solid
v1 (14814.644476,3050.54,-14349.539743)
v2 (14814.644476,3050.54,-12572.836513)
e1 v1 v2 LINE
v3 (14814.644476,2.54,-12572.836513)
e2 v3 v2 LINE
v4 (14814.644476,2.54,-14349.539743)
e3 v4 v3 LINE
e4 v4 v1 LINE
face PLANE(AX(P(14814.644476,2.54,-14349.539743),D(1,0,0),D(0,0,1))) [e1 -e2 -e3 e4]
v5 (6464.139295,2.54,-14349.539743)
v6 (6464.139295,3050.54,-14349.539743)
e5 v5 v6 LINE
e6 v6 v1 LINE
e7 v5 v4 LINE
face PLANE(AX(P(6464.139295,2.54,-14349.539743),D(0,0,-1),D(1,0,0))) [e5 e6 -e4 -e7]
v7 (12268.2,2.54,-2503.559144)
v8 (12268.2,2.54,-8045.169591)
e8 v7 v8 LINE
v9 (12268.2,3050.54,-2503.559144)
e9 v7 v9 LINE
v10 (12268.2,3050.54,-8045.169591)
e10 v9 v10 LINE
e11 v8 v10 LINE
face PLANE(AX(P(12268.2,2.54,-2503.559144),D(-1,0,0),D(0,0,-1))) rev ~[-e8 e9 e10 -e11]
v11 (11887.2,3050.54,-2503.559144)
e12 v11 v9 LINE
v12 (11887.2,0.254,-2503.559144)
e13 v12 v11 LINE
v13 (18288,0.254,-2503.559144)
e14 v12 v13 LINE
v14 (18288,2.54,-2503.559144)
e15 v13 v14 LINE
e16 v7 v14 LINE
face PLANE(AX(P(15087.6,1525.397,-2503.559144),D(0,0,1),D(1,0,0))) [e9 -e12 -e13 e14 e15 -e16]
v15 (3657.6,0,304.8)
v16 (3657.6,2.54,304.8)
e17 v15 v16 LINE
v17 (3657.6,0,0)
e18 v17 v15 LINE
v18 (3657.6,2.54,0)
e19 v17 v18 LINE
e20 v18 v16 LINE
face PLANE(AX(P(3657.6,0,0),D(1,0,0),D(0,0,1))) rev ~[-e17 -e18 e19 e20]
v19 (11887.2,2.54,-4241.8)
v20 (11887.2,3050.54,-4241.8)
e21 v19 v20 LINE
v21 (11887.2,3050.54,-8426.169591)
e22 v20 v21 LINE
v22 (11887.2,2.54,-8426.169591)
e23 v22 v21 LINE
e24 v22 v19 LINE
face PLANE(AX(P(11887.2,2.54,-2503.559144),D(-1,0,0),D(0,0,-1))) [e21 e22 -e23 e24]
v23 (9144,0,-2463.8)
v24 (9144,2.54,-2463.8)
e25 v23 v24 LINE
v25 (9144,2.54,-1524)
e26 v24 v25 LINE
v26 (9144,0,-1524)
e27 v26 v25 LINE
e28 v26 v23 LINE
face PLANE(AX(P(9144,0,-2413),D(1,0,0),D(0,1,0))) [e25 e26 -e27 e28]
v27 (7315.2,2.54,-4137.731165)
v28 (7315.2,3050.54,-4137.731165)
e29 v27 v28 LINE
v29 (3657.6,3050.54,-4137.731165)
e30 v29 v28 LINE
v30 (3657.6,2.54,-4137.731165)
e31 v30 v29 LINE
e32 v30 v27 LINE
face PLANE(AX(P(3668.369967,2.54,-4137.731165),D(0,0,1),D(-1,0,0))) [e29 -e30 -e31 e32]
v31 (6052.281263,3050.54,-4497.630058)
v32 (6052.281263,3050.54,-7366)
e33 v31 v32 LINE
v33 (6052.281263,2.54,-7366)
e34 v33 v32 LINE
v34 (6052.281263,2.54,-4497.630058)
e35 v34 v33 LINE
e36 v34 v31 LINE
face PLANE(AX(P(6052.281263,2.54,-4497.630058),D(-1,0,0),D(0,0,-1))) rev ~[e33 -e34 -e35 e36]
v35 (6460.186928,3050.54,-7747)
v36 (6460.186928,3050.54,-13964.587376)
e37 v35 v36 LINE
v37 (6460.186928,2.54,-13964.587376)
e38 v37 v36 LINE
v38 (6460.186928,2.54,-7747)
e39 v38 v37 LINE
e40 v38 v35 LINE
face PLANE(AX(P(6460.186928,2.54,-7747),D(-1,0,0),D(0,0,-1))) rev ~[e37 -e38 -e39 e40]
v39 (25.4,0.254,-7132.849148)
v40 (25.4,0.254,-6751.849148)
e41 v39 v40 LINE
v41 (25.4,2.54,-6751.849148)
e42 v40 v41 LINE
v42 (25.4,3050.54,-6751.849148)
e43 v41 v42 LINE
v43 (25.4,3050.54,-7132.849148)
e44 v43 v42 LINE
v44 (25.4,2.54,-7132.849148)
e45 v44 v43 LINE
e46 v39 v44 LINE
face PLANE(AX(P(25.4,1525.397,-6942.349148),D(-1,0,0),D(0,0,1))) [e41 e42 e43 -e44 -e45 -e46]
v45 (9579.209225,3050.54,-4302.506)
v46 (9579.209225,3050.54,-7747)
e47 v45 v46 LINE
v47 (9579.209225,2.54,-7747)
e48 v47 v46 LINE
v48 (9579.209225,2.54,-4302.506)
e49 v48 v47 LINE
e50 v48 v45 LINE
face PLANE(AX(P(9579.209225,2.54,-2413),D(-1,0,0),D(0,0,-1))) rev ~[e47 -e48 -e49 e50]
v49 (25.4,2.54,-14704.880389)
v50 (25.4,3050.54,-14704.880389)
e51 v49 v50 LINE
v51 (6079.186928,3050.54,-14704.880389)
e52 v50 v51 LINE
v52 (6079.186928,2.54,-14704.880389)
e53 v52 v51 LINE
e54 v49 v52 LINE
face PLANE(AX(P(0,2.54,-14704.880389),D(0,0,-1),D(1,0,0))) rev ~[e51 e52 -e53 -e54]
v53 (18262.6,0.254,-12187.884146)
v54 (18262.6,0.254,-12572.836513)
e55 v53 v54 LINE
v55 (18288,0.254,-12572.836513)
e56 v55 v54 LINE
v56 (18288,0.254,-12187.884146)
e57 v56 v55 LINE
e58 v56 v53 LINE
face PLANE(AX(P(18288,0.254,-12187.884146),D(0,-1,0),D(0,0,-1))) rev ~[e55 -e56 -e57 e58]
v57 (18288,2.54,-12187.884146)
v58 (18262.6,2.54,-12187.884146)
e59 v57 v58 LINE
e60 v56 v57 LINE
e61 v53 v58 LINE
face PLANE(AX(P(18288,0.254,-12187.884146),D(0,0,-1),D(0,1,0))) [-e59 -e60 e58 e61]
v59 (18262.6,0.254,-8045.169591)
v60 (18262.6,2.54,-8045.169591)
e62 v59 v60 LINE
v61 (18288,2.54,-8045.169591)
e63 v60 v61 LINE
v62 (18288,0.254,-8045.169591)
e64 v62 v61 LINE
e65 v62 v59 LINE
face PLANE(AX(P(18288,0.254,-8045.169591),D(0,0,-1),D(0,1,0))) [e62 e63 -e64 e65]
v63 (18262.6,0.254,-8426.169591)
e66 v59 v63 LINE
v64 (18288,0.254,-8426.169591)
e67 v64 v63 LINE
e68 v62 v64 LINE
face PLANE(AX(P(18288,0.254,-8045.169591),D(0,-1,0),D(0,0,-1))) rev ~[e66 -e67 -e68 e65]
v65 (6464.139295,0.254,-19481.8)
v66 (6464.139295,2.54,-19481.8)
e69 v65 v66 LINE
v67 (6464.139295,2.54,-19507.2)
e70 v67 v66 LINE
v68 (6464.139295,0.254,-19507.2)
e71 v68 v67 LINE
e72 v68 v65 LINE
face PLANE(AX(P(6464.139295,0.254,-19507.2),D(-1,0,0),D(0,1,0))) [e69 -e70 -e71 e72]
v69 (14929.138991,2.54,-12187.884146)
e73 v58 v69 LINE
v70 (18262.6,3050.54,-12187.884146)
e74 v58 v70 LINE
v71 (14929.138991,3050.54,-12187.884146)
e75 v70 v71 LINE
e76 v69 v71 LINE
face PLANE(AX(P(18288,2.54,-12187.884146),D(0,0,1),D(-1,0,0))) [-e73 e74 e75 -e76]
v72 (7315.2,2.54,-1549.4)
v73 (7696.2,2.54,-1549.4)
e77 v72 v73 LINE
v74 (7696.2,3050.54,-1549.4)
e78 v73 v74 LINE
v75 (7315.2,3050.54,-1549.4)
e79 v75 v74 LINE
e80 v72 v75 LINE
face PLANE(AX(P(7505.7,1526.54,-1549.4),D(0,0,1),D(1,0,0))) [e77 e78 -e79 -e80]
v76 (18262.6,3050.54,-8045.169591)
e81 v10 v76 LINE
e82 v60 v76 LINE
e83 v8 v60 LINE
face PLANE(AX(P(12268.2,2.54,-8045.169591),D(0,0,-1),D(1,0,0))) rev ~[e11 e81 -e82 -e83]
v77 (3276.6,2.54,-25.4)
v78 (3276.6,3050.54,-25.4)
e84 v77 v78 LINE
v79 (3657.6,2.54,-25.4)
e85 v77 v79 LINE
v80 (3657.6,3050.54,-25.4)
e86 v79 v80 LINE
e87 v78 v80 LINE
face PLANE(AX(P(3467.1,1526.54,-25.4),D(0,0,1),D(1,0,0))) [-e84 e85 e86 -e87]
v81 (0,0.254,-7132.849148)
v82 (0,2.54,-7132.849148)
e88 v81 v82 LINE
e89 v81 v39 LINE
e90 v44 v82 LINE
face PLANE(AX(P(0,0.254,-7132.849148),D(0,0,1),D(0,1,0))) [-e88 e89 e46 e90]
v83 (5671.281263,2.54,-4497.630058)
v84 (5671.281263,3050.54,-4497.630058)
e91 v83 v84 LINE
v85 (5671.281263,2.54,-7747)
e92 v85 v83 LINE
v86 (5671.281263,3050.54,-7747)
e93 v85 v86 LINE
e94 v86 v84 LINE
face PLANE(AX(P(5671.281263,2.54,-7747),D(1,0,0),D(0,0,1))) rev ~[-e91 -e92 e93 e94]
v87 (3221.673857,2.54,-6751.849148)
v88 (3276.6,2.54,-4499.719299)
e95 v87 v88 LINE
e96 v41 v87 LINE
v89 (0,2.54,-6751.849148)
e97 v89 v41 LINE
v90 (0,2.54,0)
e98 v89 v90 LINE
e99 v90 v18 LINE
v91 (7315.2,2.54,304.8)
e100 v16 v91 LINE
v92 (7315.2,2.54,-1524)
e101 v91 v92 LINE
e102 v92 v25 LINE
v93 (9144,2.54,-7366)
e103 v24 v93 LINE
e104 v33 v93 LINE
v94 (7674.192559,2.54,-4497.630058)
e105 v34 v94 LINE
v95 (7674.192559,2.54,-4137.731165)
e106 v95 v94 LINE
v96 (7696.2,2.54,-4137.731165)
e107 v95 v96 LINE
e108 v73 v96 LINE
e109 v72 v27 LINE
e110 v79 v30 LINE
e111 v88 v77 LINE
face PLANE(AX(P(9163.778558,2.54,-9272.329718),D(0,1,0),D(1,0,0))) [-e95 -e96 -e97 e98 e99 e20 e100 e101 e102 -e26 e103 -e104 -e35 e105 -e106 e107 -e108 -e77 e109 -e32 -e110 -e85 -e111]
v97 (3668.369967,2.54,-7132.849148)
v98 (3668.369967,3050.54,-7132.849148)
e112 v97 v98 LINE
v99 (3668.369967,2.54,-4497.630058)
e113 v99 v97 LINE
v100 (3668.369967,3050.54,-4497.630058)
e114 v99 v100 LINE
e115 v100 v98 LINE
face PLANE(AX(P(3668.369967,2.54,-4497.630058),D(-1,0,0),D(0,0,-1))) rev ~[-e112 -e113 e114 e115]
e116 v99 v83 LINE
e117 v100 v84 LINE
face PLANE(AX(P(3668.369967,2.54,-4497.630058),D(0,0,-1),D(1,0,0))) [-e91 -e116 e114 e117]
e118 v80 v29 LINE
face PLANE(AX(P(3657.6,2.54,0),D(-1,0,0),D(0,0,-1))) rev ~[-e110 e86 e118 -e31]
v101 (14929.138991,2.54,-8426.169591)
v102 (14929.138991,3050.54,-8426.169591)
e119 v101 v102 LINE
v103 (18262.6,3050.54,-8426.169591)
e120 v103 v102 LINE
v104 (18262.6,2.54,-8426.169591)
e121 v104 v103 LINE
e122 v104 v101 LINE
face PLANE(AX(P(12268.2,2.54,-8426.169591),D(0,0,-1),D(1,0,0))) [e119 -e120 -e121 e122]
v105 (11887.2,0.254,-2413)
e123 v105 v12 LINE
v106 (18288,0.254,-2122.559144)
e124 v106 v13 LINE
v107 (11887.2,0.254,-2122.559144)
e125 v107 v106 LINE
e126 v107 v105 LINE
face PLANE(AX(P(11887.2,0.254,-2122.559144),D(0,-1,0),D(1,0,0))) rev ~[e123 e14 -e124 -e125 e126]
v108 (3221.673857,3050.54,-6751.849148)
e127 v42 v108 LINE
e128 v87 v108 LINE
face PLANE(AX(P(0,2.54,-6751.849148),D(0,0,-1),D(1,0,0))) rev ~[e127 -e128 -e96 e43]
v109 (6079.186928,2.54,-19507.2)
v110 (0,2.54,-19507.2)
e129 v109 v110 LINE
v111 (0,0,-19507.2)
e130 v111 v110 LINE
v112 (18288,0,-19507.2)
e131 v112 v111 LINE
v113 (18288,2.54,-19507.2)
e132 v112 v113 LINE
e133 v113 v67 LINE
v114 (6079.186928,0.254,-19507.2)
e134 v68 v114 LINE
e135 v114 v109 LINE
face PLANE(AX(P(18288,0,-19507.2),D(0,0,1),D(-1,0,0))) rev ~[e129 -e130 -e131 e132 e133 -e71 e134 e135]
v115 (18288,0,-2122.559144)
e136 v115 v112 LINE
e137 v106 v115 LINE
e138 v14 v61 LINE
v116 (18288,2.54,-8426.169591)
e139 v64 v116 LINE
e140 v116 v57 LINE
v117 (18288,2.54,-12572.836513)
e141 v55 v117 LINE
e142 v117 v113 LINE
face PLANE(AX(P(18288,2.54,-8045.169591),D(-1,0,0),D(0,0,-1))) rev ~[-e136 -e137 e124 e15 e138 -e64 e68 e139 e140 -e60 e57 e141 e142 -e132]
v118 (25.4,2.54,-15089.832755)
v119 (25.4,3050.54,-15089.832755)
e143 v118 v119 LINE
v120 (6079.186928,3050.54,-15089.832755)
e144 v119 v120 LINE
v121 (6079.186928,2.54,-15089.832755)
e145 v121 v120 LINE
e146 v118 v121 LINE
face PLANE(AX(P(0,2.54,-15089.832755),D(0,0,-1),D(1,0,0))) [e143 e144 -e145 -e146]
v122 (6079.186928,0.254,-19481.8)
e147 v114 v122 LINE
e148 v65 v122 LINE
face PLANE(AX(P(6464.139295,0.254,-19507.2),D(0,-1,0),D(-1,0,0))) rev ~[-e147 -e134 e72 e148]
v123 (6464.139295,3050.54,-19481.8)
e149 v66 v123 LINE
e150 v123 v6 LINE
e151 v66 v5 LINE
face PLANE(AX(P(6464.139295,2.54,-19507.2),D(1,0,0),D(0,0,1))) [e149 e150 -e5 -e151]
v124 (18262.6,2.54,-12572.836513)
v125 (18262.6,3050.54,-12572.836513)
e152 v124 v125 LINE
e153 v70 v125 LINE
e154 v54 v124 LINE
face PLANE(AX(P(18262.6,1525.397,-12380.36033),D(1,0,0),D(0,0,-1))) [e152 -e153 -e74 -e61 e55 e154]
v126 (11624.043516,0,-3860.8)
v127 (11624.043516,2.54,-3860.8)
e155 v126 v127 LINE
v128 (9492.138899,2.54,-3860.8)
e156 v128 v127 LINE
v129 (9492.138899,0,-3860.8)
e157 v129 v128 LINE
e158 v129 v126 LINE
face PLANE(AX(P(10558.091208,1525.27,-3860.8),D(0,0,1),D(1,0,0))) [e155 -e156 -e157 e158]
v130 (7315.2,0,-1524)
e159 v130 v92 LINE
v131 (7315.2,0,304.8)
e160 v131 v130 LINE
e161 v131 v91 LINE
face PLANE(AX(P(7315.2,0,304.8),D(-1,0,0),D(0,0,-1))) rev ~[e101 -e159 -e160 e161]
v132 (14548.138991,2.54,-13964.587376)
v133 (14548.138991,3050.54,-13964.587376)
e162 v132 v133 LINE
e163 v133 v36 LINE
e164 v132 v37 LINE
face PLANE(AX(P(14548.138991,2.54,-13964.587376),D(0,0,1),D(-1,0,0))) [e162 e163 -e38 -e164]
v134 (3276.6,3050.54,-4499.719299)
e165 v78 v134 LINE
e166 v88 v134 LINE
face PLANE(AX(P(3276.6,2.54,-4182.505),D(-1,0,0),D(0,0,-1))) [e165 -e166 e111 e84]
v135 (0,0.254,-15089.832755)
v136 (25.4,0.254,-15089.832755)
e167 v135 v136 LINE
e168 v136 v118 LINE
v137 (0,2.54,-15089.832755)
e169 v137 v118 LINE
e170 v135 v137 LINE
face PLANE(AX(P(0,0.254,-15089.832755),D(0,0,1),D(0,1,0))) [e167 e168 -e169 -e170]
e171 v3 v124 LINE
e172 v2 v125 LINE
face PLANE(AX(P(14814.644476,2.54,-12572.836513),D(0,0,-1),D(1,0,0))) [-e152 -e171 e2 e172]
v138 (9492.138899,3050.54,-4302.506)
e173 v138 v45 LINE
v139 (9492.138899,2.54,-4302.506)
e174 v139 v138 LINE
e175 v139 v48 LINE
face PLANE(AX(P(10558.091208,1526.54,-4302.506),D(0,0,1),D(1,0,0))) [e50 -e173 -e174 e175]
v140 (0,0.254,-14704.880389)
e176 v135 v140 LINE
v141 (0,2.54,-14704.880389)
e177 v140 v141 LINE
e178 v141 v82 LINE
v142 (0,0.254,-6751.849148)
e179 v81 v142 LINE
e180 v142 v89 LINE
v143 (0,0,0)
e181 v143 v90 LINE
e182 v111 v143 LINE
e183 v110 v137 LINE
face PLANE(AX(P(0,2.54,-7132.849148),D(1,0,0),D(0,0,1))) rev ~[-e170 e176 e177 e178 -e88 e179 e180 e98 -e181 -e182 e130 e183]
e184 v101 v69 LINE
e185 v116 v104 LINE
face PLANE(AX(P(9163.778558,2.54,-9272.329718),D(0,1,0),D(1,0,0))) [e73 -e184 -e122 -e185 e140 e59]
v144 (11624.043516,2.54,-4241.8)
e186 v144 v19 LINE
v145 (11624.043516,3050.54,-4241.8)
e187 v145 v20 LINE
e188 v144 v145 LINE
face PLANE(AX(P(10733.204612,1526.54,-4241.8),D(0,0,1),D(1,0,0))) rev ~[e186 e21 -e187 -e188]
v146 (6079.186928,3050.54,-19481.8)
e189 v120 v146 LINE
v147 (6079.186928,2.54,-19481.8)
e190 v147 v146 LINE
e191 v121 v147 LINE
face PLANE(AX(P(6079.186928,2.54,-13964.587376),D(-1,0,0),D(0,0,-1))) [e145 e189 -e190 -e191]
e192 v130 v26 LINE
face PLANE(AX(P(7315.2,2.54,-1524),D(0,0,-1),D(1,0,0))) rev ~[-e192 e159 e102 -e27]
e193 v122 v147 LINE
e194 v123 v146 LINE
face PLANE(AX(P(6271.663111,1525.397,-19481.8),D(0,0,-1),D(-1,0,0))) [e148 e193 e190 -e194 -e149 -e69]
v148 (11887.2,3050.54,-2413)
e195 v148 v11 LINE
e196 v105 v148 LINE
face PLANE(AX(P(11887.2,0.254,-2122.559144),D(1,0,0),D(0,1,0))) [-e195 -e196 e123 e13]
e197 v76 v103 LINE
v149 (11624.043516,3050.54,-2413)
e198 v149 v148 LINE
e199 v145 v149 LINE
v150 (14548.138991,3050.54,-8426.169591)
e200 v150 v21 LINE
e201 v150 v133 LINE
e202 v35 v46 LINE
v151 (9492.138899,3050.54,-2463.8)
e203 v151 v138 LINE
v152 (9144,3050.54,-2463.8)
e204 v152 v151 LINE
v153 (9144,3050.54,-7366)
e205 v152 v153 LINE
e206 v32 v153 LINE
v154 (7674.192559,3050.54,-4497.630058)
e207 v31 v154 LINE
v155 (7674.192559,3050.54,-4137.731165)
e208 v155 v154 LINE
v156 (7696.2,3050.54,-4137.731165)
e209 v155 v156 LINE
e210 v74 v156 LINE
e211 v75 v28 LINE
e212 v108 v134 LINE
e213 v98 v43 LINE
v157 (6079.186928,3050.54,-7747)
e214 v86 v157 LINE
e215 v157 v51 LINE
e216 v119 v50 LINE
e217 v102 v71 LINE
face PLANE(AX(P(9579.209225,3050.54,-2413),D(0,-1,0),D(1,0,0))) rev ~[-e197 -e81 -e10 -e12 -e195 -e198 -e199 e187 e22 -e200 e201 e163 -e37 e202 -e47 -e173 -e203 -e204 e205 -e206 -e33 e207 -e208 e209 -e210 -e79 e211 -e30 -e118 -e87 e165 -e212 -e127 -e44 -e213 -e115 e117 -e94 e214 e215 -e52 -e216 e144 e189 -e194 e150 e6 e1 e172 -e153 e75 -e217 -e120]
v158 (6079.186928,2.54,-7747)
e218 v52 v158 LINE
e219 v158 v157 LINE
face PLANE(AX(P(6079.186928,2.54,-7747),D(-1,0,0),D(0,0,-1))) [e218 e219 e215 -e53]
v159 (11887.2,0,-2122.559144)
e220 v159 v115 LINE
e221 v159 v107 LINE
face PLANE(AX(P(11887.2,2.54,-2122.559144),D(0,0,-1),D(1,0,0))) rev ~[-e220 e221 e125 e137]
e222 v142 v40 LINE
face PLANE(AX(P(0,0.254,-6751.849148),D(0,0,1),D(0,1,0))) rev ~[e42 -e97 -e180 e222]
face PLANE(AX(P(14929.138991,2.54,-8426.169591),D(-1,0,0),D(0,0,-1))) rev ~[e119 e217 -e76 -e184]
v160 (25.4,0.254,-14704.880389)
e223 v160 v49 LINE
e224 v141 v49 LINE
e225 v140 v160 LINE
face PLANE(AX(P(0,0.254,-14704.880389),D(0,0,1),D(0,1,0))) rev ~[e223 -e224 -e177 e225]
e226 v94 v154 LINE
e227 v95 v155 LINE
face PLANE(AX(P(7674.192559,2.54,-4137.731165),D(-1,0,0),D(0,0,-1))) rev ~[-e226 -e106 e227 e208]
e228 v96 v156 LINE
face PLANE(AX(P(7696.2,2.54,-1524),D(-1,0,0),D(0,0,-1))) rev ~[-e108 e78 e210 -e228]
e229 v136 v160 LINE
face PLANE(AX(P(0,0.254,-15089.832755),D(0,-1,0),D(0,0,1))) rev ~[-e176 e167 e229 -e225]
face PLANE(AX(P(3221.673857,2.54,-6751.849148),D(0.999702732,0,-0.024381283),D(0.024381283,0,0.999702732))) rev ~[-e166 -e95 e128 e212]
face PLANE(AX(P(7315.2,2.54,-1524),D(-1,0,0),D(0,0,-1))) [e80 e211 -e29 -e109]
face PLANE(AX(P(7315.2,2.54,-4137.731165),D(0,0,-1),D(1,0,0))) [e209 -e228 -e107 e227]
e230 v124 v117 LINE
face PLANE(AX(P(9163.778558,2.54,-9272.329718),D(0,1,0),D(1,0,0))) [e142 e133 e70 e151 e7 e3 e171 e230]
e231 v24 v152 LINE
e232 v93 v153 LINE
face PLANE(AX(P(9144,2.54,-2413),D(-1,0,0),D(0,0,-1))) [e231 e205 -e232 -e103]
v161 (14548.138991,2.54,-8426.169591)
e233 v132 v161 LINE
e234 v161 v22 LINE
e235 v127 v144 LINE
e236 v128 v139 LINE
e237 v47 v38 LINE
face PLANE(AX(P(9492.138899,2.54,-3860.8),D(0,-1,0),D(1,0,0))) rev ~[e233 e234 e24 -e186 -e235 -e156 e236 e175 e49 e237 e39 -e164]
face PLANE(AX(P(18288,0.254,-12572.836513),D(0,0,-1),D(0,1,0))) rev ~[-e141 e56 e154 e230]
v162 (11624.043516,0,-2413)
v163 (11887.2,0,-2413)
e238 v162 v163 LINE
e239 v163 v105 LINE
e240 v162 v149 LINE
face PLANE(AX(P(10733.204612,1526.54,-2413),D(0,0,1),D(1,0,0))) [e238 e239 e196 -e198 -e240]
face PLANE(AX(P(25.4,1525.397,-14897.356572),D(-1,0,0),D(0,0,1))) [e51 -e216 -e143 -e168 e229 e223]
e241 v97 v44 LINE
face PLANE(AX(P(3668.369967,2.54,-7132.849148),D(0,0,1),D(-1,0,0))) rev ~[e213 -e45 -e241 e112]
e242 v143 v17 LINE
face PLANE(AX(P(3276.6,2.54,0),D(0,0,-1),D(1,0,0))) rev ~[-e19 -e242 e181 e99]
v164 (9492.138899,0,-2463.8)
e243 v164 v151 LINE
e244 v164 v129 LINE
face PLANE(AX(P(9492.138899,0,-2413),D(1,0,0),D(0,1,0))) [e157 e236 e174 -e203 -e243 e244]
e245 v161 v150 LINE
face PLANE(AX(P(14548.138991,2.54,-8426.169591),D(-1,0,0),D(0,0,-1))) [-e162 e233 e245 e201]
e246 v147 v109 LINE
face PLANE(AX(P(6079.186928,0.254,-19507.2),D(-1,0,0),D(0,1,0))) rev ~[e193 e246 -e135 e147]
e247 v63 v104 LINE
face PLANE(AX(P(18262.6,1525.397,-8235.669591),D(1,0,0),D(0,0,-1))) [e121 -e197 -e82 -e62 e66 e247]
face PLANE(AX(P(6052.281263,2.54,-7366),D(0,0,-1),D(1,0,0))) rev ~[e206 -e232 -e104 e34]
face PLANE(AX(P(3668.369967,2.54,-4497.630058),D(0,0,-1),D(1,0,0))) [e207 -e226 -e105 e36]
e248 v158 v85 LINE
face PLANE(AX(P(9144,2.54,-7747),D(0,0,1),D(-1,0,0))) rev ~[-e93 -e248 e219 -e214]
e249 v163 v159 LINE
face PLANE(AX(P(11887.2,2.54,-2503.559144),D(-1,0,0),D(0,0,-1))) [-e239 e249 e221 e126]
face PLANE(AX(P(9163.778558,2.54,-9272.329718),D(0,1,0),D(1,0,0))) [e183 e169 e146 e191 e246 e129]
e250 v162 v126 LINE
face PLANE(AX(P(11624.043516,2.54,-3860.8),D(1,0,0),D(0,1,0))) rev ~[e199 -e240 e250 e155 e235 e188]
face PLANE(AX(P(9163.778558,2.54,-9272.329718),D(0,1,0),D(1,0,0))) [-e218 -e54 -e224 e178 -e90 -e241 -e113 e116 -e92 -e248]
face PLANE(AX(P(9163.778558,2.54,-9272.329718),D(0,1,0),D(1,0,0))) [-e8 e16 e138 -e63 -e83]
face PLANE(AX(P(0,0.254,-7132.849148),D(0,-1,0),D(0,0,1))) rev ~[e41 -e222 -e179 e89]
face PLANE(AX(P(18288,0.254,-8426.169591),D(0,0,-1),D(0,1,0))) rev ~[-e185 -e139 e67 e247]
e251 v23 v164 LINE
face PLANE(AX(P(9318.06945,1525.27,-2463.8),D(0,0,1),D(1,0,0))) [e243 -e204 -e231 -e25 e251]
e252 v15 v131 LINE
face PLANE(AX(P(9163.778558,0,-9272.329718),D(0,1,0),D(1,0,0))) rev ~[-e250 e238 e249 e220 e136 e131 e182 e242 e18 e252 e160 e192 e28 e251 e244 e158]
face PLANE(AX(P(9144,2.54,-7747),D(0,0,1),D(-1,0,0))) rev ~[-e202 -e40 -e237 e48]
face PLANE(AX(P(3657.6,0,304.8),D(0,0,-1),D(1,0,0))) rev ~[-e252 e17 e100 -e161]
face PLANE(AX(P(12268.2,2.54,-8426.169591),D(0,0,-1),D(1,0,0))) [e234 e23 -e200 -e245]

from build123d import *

# Parameters (mm, degrees)
BOSS_EXTRUDE1_DEPTH  = 2.54
BOSS_EXTRUDE2_DEPTH  = 3048
SKETCH3_W            = 6079.186928171
SKETCH3_H            = 384.95236651
BOSS_EXTRUDE3_DEPTH  = 3048
SKETCH4_W            = 6400.8
SKETCH4_H            = 381
BOSS_EXTRUDE4_DEPTH  = 3048
SKETCH5_W            = 435.20922465
SKETCH5_H            = 5334
BOSS_EXTRUDE5_DEPTH  = 3048
SKETCH6_W            = 381
SKETCH6_H            = 5922.610446976
BOSS_EXTRUDE7_DEPTH  = 3048
SKETCH7_W            = 6019.8
SKETCH7_H            = 381
BOSS_EXTRUDE8_DEPTH  = 3048
SKETCH8_W            = 381
SKETCH8_H            = 2613.731165123
BOSS_EXTRUDE9_DEPTH  = 3048
SKETCH9_W            = 381
SKETCH9_H            = 4182.504999838
BOSS_EXTRUDE10_DEPTH = 3048
SKETCH10_W           = 4005.822591779
SKETCH10_H           = 359.898893292
BOSS_EXTRUDE11_DEPTH = 3048
BOSS_EXTRUDE12_DEPTH = 3048
BOSS_EXTRUDE13_DEPTH = 3048
SKETCH14_W           = 381
SKETCH14_H           = 6217.587376367
BOSS_EXTRUDE15_DEPTH = 3048
SKETCH16_W           = 6400.8
SKETCH16_H           = 2122.559144169
CUT_EXTRUDE2_DEPTH   = 3048
SKETCH18_W           = 381
SKETCH18_H           = 3761.714555176
BOSS_EXTRUDE16_DEPTH = 3048
BOSS_EXTRUDE17_DEPTH = 3048
SKETCH20_W           = 381
SKETCH20_H           = 3048
CUT_EXTRUDE3_DEPTH   = 25.4
SKETCH21_W           = 381
SKETCH21_H           = 3048
CUT_EXTRUDE4_DEPTH   = 25.4
SKETCH22_W           = 2307.99077535
SKETCH22_H           = 3048
BOSS_EXTRUDE18_DEPTH = 1828.8
SKETCH23_W           = 2131.904617106
SKETCH23_H           = 3050.54
CUT_EXTRUDE5_DEPTH   = 1447.8
SKETCH24_W           = 348.138899176
SKETCH24_H           = 3050.54
CUT_EXTRUDE6_DEPTH   = 50.8
SKETCH26_W           = 2131.904617106
SKETCH26_H           = 3048
CUT_EXTRUDE7_DEPTH   = 441.706
SKETCH28_W           = 6400.8
SKETCH28_H           = 3050.286
CUT_EXTRUDE9_DEPTH   = 381
SKETCH29_W           = 384.95236651
SKETCH29_H           = 3050.286
CUT_EXTRUDE10_DEPTH  = 25.4
SKETCH30_W           = 381
SKETCH30_H           = 3050.286
CUT_EXTRUDE11_DEPTH  = 25.4
SKETCH31_W           = 381
SKETCH31_H           = 3050.286
CUT_EXTRUDE12_DEPTH  = 25.4
SKETCH32_W           = 384.95236651
SKETCH32_H           = 3050.286
CUT_EXTRUDE13_DEPTH  = 25.4
SKETCH33_W           = 384.95236651
SKETCH33_H           = 3050.286
CUT_EXTRUDE14_DEPTH  = 25.4


with BuildPart() as part:
    # Sketch1 → Boss-Extrude1 (new body)
    with BuildSketch(Plane(origin=(0, 0, 0), x_dir=(1, 0, 0), z_dir=(0, 1, 0))):
        Polygon((3657.6, 0), (3657.6, -304.8), (7315.2, -304.8), (7315.2, 0), (7315.2, 1524), (9144, 1524), (9144, 2413), (11887.2, 2413), (11887.2, 0), (18288, 0), (18288, 19507.2), (0, 19507.2), (0, 0), align=None)
    extrude(amount=BOSS_EXTRUDE1_DEPTH)

    # Sketch2 → Boss-Extrude2 (add)
    with BuildSketch(Plane(origin=(0, 2.54, 0), x_dir=(1, 0, 0), z_dir=(0, 1, 0))):
        Polygon((6079.186928171, 13964.587376367), (6079.186928171, 19507.2), (6464.139294681, 19507.2), (6464.139294681, 14349.539742877), (14814.644475897, 14349.539742877), (14814.644475897, 12572.836512831), (18288, 12572.836512831), (18288, 12187.884146321), (14548.13899139, 12187.884146321), (14548.13899139, 13964.587376367), align=None)
    extrude(amount=BOSS_EXTRUDE2_DEPTH)

    # Sketch3 → Boss-Extrude3 (add)
    with BuildSketch(Plane(origin=(0, 2.54, 0), x_dir=(1, 0, 0), z_dir=(0, 1, 0))):
        with Locations((3039.593464086, 14897.356572141)):
            Rectangle(SKETCH3_W, SKETCH3_H)
    extrude(amount=BOSS_EXTRUDE3_DEPTH)

    # Sketch4 → Boss-Extrude4 (add)
    with BuildSketch(Plane(origin=(0, 2.54, 0), x_dir=(1, 0, 0), z_dir=(0, 1, 0))):
        with Locations((15087.6, 2313.059144169)):
            Rectangle(SKETCH4_W, SKETCH4_H)
    extrude(amount=BOSS_EXTRUDE4_DEPTH)

    # Sketch5 → Boss-Extrude5 (add)
    with BuildSketch(Plane(origin=(0, 2.54, 0), x_dir=(1, 0, 0), z_dir=(0, 1, 0))):
        with Locations((9361.604612325, 5080)):
            Rectangle(SKETCH5_W, SKETCH5_H)
    extrude(amount=BOSS_EXTRUDE5_DEPTH)

    # Sketch6 → Boss-Extrude7 (add)
    with BuildSketch(Plane(origin=(0, 2.54, 0), x_dir=(1, 0, 0), z_dir=(0, 1, 0))):
        with Locations((12077.7, 5464.864367657)):
            Rectangle(SKETCH6_W, SKETCH6_H)
    extrude(amount=BOSS_EXTRUDE7_DEPTH)

    # Sketch7 → Boss-Extrude8 (add)
    with BuildSketch(Plane(origin=(0, 2.54, 0), x_dir=(1, 0, 0), z_dir=(0, 1, 0))):
        with Locations((15278.1, 8235.669591145)):
            Rectangle(SKETCH7_W, SKETCH7_H)
    extrude(amount=BOSS_EXTRUDE8_DEPTH)

    # Sketch8 → Boss-Extrude9 (add)
    with BuildSketch(Plane(origin=(0, 2.54, 0), x_dir=(1, 0, 0), z_dir=(0, 1, 0))):
        with Locations((7505.7, 2830.865582562)):
            Rectangle(SKETCH8_W, SKETCH8_H)
    extrude(amount=BOSS_EXTRUDE9_DEPTH)

    # Sketch9 → Boss-Extrude10 (add)
    with BuildSketch(Plane(origin=(0, 2.54, 0), x_dir=(1, 0, 0), z_dir=(0, 1, 0))):
        with Locations((3467.1, 2091.252499919)):
            Rectangle(SKETCH9_W, SKETCH9_H)
    extrude(amount=BOSS_EXTRUDE10_DEPTH)

    # Sketch10 → Boss-Extrude11 (add)
    with BuildSketch(Plane(origin=(0, 2.54, 0), x_dir=(1, 0, 0), z_dir=(0, 1, 0))):
        with Locations((5671.281263235, 4317.680611769)):
            Rectangle(SKETCH10_W, SKETCH10_H)
    extrude(amount=BOSS_EXTRUDE11_DEPTH)

    # Sketch11 → Boss-Extrude12 (add)
    with BuildSketch(Plane(origin=(0, 2.54, 0), x_dir=(1, 0, 0), z_dir=(0, 1, 0))):
        Polygon((3276.6, 4182.504999838), (3276.6, 4499.719299199), (3668.369967345, 4497.630058415), (3668.369967345, 4137.731165123), (3657.6, 4137.731165123), (3657.6, 4182.504999838), align=None)
    extrude(amount=BOSS_EXTRUDE12_DEPTH)

    # Sketch13 → Boss-Extrude13 (add)
    with BuildSketch(Plane(origin=(0, 2.54, 0), x_dir=(1, 0, 0), z_dir=(0, 1, 0))):
        Polygon((9144, 7747), (5671.281263235, 7747), (5671.281263235, 4497.630058415), (6052.281263235, 4497.630058415), (6052.281263235, 7366), (9144, 7366), align=None)
    extrude(amount=BOSS_EXTRUDE13_DEPTH)

    # Sketch14 → Boss-Extrude15 (add)
    with BuildSketch(Plane(origin=(0, 2.54, 0), x_dir=(1, 0, 0), z_dir=(0, 1, 0))):
        with Locations((6269.686928171, 10855.793688184)):
            Rectangle(SKETCH14_W, SKETCH14_H)
    extrude(amount=BOSS_EXTRUDE15_DEPTH)

    # Sketch16 → Cut-Extrude2 (cut)
    with BuildSketch(Plane(origin=(0, 2.54, 0), x_dir=(1, 0, 0), z_dir=(0, 1, 0))):
        with Locations((15087.6, 1061.279572085)):
            Rectangle(SKETCH16_W, SKETCH16_H)
    extrude(amount=-CUT_EXTRUDE2_DEPTH, mode=Mode.SUBTRACT)

    # Sketch18 → Boss-Extrude16 (add)
    with BuildSketch(Plane(origin=(0, 2.54, 0), x_dir=(1, 0, 0), z_dir=(0, 1, 0))):
        with Locations((14738.63899139, 10307.026868733)):
            Rectangle(SKETCH18_W, SKETCH18_H)
    extrude(amount=BOSS_EXTRUDE16_DEPTH)

    # Sketch19 → Boss-Extrude17 (add)
    with BuildSketch(Plane(origin=(0, 2.54, 0), x_dir=(1, 0, 0), z_dir=(0, 1, 0))):
        Polygon((3276.6, 4499.719299199), (3668.369967345, 4497.630058415), (3668.369967345, 7132.849148223), (0, 7132.849148223), (0, 6751.849148223), (3221.67385658, 6751.849148223), align=None)
    extrude(amount=BOSS_EXTRUDE17_DEPTH)

    # Sketch20 → Cut-Extrude3 (cut)
    with BuildSketch(Plane.XY):
        with Locations((3467.1, 1526.54)):
            Rectangle(SKETCH20_W, SKETCH20_H)
    extrude(amount=-CUT_EXTRUDE3_DEPTH, mode=Mode.SUBTRACT)

    # Sketch21 → Cut-Extrude4 (cut)
    with BuildSketch(Plane.XY.offset(-1524)):
        with Locations((7505.7, 1526.54)):
            Rectangle(SKETCH21_W, SKETCH21_H)
    extrude(amount=-CUT_EXTRUDE4_DEPTH, mode=Mode.SUBTRACT)

    # Sketch22 → Boss-Extrude18 (add)
    with BuildSketch(Plane.XY.offset(-2413)):
        with Locations((10733.204612325, 1526.54)):
            Rectangle(SKETCH22_W, SKETCH22_H)
    extrude(amount=-BOSS_EXTRUDE18_DEPTH)

    # Sketch23 → Cut-Extrude5 (cut)
    with BuildSketch(Plane.XY.offset(-2413)):
        with Locations((10558.091207729, 1525.27)):
            Rectangle(SKETCH23_W, SKETCH23_H)
    extrude(amount=-CUT_EXTRUDE5_DEPTH, mode=Mode.SUBTRACT)

    # Sketch24 → Cut-Extrude6 (cut)
    with BuildSketch(Plane.XY.offset(-2413)):
        with Locations((9318.069449588, 1525.27)):
            Rectangle(SKETCH24_W, SKETCH24_H)
    extrude(amount=-CUT_EXTRUDE6_DEPTH, mode=Mode.SUBTRACT)

    # Sketch26 → Cut-Extrude7 (cut)
    with BuildSketch(Plane.XY.offset(-3860.8)):
        with Locations((10558.091207729, 1526.54)):
            Rectangle(SKETCH26_W, SKETCH26_H)
    extrude(amount=-CUT_EXTRUDE7_DEPTH, mode=Mode.SUBTRACT)

    # Sketch28 → Cut-Extrude9 (cut)
    with BuildSketch(Plane.XY.offset(-2122.559144169)):
        with Locations((15087.6, 1525.397)):
            Rectangle(SKETCH28_W, SKETCH28_H)
    extrude(amount=-CUT_EXTRUDE9_DEPTH, mode=Mode.SUBTRACT)

    # Sketch29 → Cut-Extrude10 (cut)
    with BuildSketch(Plane.ZY):
        with Locations((-14897.356572141, 1525.397)):
            Rectangle(SKETCH29_W, SKETCH29_H)
    extrude(amount=-CUT_EXTRUDE10_DEPTH, mode=Mode.SUBTRACT)

    # Sketch30 → Cut-Extrude11 (cut)
    with BuildSketch(Plane.ZY):
        with Locations((-6942.349148223, 1525.397)):
            Rectangle(SKETCH30_W, SKETCH30_H)
    extrude(amount=-CUT_EXTRUDE11_DEPTH, mode=Mode.SUBTRACT)

    # Sketch31 → Cut-Extrude12 (cut)
    with BuildSketch(Plane(origin=(18288, 0, 0), x_dir=(0, 0, -1), z_dir=(1, 0, 0))):
        with Locations((8235.669591145, 1525.397)):
            Rectangle(SKETCH31_W, SKETCH31_H)
    extrude(amount=-CUT_EXTRUDE12_DEPTH, mode=Mode.SUBTRACT)

    # Sketch32 → Cut-Extrude13 (cut)
    with BuildSketch(Plane(origin=(18288, 0, 0), x_dir=(0, 0, -1), z_dir=(1, 0, 0))):
        with Locations((12380.360329576, 1525.397)):
            Rectangle(SKETCH32_W, SKETCH32_H)
    extrude(amount=-CUT_EXTRUDE13_DEPTH, mode=Mode.SUBTRACT)

    # Sketch33 → Cut-Extrude14 (cut)
    with BuildSketch(Plane(origin=(0, 0, -19507.2), x_dir=(-1, 0, 0), z_dir=(0, 0, -1))):
        with Locations((-6271.663111426, 1525.397)):
            Rectangle(SKETCH33_W, SKETCH33_H)
    extrude(amount=-CUT_EXTRUDE14_DEPTH, mode=Mode.SUBTRACT)


solid = part.part
